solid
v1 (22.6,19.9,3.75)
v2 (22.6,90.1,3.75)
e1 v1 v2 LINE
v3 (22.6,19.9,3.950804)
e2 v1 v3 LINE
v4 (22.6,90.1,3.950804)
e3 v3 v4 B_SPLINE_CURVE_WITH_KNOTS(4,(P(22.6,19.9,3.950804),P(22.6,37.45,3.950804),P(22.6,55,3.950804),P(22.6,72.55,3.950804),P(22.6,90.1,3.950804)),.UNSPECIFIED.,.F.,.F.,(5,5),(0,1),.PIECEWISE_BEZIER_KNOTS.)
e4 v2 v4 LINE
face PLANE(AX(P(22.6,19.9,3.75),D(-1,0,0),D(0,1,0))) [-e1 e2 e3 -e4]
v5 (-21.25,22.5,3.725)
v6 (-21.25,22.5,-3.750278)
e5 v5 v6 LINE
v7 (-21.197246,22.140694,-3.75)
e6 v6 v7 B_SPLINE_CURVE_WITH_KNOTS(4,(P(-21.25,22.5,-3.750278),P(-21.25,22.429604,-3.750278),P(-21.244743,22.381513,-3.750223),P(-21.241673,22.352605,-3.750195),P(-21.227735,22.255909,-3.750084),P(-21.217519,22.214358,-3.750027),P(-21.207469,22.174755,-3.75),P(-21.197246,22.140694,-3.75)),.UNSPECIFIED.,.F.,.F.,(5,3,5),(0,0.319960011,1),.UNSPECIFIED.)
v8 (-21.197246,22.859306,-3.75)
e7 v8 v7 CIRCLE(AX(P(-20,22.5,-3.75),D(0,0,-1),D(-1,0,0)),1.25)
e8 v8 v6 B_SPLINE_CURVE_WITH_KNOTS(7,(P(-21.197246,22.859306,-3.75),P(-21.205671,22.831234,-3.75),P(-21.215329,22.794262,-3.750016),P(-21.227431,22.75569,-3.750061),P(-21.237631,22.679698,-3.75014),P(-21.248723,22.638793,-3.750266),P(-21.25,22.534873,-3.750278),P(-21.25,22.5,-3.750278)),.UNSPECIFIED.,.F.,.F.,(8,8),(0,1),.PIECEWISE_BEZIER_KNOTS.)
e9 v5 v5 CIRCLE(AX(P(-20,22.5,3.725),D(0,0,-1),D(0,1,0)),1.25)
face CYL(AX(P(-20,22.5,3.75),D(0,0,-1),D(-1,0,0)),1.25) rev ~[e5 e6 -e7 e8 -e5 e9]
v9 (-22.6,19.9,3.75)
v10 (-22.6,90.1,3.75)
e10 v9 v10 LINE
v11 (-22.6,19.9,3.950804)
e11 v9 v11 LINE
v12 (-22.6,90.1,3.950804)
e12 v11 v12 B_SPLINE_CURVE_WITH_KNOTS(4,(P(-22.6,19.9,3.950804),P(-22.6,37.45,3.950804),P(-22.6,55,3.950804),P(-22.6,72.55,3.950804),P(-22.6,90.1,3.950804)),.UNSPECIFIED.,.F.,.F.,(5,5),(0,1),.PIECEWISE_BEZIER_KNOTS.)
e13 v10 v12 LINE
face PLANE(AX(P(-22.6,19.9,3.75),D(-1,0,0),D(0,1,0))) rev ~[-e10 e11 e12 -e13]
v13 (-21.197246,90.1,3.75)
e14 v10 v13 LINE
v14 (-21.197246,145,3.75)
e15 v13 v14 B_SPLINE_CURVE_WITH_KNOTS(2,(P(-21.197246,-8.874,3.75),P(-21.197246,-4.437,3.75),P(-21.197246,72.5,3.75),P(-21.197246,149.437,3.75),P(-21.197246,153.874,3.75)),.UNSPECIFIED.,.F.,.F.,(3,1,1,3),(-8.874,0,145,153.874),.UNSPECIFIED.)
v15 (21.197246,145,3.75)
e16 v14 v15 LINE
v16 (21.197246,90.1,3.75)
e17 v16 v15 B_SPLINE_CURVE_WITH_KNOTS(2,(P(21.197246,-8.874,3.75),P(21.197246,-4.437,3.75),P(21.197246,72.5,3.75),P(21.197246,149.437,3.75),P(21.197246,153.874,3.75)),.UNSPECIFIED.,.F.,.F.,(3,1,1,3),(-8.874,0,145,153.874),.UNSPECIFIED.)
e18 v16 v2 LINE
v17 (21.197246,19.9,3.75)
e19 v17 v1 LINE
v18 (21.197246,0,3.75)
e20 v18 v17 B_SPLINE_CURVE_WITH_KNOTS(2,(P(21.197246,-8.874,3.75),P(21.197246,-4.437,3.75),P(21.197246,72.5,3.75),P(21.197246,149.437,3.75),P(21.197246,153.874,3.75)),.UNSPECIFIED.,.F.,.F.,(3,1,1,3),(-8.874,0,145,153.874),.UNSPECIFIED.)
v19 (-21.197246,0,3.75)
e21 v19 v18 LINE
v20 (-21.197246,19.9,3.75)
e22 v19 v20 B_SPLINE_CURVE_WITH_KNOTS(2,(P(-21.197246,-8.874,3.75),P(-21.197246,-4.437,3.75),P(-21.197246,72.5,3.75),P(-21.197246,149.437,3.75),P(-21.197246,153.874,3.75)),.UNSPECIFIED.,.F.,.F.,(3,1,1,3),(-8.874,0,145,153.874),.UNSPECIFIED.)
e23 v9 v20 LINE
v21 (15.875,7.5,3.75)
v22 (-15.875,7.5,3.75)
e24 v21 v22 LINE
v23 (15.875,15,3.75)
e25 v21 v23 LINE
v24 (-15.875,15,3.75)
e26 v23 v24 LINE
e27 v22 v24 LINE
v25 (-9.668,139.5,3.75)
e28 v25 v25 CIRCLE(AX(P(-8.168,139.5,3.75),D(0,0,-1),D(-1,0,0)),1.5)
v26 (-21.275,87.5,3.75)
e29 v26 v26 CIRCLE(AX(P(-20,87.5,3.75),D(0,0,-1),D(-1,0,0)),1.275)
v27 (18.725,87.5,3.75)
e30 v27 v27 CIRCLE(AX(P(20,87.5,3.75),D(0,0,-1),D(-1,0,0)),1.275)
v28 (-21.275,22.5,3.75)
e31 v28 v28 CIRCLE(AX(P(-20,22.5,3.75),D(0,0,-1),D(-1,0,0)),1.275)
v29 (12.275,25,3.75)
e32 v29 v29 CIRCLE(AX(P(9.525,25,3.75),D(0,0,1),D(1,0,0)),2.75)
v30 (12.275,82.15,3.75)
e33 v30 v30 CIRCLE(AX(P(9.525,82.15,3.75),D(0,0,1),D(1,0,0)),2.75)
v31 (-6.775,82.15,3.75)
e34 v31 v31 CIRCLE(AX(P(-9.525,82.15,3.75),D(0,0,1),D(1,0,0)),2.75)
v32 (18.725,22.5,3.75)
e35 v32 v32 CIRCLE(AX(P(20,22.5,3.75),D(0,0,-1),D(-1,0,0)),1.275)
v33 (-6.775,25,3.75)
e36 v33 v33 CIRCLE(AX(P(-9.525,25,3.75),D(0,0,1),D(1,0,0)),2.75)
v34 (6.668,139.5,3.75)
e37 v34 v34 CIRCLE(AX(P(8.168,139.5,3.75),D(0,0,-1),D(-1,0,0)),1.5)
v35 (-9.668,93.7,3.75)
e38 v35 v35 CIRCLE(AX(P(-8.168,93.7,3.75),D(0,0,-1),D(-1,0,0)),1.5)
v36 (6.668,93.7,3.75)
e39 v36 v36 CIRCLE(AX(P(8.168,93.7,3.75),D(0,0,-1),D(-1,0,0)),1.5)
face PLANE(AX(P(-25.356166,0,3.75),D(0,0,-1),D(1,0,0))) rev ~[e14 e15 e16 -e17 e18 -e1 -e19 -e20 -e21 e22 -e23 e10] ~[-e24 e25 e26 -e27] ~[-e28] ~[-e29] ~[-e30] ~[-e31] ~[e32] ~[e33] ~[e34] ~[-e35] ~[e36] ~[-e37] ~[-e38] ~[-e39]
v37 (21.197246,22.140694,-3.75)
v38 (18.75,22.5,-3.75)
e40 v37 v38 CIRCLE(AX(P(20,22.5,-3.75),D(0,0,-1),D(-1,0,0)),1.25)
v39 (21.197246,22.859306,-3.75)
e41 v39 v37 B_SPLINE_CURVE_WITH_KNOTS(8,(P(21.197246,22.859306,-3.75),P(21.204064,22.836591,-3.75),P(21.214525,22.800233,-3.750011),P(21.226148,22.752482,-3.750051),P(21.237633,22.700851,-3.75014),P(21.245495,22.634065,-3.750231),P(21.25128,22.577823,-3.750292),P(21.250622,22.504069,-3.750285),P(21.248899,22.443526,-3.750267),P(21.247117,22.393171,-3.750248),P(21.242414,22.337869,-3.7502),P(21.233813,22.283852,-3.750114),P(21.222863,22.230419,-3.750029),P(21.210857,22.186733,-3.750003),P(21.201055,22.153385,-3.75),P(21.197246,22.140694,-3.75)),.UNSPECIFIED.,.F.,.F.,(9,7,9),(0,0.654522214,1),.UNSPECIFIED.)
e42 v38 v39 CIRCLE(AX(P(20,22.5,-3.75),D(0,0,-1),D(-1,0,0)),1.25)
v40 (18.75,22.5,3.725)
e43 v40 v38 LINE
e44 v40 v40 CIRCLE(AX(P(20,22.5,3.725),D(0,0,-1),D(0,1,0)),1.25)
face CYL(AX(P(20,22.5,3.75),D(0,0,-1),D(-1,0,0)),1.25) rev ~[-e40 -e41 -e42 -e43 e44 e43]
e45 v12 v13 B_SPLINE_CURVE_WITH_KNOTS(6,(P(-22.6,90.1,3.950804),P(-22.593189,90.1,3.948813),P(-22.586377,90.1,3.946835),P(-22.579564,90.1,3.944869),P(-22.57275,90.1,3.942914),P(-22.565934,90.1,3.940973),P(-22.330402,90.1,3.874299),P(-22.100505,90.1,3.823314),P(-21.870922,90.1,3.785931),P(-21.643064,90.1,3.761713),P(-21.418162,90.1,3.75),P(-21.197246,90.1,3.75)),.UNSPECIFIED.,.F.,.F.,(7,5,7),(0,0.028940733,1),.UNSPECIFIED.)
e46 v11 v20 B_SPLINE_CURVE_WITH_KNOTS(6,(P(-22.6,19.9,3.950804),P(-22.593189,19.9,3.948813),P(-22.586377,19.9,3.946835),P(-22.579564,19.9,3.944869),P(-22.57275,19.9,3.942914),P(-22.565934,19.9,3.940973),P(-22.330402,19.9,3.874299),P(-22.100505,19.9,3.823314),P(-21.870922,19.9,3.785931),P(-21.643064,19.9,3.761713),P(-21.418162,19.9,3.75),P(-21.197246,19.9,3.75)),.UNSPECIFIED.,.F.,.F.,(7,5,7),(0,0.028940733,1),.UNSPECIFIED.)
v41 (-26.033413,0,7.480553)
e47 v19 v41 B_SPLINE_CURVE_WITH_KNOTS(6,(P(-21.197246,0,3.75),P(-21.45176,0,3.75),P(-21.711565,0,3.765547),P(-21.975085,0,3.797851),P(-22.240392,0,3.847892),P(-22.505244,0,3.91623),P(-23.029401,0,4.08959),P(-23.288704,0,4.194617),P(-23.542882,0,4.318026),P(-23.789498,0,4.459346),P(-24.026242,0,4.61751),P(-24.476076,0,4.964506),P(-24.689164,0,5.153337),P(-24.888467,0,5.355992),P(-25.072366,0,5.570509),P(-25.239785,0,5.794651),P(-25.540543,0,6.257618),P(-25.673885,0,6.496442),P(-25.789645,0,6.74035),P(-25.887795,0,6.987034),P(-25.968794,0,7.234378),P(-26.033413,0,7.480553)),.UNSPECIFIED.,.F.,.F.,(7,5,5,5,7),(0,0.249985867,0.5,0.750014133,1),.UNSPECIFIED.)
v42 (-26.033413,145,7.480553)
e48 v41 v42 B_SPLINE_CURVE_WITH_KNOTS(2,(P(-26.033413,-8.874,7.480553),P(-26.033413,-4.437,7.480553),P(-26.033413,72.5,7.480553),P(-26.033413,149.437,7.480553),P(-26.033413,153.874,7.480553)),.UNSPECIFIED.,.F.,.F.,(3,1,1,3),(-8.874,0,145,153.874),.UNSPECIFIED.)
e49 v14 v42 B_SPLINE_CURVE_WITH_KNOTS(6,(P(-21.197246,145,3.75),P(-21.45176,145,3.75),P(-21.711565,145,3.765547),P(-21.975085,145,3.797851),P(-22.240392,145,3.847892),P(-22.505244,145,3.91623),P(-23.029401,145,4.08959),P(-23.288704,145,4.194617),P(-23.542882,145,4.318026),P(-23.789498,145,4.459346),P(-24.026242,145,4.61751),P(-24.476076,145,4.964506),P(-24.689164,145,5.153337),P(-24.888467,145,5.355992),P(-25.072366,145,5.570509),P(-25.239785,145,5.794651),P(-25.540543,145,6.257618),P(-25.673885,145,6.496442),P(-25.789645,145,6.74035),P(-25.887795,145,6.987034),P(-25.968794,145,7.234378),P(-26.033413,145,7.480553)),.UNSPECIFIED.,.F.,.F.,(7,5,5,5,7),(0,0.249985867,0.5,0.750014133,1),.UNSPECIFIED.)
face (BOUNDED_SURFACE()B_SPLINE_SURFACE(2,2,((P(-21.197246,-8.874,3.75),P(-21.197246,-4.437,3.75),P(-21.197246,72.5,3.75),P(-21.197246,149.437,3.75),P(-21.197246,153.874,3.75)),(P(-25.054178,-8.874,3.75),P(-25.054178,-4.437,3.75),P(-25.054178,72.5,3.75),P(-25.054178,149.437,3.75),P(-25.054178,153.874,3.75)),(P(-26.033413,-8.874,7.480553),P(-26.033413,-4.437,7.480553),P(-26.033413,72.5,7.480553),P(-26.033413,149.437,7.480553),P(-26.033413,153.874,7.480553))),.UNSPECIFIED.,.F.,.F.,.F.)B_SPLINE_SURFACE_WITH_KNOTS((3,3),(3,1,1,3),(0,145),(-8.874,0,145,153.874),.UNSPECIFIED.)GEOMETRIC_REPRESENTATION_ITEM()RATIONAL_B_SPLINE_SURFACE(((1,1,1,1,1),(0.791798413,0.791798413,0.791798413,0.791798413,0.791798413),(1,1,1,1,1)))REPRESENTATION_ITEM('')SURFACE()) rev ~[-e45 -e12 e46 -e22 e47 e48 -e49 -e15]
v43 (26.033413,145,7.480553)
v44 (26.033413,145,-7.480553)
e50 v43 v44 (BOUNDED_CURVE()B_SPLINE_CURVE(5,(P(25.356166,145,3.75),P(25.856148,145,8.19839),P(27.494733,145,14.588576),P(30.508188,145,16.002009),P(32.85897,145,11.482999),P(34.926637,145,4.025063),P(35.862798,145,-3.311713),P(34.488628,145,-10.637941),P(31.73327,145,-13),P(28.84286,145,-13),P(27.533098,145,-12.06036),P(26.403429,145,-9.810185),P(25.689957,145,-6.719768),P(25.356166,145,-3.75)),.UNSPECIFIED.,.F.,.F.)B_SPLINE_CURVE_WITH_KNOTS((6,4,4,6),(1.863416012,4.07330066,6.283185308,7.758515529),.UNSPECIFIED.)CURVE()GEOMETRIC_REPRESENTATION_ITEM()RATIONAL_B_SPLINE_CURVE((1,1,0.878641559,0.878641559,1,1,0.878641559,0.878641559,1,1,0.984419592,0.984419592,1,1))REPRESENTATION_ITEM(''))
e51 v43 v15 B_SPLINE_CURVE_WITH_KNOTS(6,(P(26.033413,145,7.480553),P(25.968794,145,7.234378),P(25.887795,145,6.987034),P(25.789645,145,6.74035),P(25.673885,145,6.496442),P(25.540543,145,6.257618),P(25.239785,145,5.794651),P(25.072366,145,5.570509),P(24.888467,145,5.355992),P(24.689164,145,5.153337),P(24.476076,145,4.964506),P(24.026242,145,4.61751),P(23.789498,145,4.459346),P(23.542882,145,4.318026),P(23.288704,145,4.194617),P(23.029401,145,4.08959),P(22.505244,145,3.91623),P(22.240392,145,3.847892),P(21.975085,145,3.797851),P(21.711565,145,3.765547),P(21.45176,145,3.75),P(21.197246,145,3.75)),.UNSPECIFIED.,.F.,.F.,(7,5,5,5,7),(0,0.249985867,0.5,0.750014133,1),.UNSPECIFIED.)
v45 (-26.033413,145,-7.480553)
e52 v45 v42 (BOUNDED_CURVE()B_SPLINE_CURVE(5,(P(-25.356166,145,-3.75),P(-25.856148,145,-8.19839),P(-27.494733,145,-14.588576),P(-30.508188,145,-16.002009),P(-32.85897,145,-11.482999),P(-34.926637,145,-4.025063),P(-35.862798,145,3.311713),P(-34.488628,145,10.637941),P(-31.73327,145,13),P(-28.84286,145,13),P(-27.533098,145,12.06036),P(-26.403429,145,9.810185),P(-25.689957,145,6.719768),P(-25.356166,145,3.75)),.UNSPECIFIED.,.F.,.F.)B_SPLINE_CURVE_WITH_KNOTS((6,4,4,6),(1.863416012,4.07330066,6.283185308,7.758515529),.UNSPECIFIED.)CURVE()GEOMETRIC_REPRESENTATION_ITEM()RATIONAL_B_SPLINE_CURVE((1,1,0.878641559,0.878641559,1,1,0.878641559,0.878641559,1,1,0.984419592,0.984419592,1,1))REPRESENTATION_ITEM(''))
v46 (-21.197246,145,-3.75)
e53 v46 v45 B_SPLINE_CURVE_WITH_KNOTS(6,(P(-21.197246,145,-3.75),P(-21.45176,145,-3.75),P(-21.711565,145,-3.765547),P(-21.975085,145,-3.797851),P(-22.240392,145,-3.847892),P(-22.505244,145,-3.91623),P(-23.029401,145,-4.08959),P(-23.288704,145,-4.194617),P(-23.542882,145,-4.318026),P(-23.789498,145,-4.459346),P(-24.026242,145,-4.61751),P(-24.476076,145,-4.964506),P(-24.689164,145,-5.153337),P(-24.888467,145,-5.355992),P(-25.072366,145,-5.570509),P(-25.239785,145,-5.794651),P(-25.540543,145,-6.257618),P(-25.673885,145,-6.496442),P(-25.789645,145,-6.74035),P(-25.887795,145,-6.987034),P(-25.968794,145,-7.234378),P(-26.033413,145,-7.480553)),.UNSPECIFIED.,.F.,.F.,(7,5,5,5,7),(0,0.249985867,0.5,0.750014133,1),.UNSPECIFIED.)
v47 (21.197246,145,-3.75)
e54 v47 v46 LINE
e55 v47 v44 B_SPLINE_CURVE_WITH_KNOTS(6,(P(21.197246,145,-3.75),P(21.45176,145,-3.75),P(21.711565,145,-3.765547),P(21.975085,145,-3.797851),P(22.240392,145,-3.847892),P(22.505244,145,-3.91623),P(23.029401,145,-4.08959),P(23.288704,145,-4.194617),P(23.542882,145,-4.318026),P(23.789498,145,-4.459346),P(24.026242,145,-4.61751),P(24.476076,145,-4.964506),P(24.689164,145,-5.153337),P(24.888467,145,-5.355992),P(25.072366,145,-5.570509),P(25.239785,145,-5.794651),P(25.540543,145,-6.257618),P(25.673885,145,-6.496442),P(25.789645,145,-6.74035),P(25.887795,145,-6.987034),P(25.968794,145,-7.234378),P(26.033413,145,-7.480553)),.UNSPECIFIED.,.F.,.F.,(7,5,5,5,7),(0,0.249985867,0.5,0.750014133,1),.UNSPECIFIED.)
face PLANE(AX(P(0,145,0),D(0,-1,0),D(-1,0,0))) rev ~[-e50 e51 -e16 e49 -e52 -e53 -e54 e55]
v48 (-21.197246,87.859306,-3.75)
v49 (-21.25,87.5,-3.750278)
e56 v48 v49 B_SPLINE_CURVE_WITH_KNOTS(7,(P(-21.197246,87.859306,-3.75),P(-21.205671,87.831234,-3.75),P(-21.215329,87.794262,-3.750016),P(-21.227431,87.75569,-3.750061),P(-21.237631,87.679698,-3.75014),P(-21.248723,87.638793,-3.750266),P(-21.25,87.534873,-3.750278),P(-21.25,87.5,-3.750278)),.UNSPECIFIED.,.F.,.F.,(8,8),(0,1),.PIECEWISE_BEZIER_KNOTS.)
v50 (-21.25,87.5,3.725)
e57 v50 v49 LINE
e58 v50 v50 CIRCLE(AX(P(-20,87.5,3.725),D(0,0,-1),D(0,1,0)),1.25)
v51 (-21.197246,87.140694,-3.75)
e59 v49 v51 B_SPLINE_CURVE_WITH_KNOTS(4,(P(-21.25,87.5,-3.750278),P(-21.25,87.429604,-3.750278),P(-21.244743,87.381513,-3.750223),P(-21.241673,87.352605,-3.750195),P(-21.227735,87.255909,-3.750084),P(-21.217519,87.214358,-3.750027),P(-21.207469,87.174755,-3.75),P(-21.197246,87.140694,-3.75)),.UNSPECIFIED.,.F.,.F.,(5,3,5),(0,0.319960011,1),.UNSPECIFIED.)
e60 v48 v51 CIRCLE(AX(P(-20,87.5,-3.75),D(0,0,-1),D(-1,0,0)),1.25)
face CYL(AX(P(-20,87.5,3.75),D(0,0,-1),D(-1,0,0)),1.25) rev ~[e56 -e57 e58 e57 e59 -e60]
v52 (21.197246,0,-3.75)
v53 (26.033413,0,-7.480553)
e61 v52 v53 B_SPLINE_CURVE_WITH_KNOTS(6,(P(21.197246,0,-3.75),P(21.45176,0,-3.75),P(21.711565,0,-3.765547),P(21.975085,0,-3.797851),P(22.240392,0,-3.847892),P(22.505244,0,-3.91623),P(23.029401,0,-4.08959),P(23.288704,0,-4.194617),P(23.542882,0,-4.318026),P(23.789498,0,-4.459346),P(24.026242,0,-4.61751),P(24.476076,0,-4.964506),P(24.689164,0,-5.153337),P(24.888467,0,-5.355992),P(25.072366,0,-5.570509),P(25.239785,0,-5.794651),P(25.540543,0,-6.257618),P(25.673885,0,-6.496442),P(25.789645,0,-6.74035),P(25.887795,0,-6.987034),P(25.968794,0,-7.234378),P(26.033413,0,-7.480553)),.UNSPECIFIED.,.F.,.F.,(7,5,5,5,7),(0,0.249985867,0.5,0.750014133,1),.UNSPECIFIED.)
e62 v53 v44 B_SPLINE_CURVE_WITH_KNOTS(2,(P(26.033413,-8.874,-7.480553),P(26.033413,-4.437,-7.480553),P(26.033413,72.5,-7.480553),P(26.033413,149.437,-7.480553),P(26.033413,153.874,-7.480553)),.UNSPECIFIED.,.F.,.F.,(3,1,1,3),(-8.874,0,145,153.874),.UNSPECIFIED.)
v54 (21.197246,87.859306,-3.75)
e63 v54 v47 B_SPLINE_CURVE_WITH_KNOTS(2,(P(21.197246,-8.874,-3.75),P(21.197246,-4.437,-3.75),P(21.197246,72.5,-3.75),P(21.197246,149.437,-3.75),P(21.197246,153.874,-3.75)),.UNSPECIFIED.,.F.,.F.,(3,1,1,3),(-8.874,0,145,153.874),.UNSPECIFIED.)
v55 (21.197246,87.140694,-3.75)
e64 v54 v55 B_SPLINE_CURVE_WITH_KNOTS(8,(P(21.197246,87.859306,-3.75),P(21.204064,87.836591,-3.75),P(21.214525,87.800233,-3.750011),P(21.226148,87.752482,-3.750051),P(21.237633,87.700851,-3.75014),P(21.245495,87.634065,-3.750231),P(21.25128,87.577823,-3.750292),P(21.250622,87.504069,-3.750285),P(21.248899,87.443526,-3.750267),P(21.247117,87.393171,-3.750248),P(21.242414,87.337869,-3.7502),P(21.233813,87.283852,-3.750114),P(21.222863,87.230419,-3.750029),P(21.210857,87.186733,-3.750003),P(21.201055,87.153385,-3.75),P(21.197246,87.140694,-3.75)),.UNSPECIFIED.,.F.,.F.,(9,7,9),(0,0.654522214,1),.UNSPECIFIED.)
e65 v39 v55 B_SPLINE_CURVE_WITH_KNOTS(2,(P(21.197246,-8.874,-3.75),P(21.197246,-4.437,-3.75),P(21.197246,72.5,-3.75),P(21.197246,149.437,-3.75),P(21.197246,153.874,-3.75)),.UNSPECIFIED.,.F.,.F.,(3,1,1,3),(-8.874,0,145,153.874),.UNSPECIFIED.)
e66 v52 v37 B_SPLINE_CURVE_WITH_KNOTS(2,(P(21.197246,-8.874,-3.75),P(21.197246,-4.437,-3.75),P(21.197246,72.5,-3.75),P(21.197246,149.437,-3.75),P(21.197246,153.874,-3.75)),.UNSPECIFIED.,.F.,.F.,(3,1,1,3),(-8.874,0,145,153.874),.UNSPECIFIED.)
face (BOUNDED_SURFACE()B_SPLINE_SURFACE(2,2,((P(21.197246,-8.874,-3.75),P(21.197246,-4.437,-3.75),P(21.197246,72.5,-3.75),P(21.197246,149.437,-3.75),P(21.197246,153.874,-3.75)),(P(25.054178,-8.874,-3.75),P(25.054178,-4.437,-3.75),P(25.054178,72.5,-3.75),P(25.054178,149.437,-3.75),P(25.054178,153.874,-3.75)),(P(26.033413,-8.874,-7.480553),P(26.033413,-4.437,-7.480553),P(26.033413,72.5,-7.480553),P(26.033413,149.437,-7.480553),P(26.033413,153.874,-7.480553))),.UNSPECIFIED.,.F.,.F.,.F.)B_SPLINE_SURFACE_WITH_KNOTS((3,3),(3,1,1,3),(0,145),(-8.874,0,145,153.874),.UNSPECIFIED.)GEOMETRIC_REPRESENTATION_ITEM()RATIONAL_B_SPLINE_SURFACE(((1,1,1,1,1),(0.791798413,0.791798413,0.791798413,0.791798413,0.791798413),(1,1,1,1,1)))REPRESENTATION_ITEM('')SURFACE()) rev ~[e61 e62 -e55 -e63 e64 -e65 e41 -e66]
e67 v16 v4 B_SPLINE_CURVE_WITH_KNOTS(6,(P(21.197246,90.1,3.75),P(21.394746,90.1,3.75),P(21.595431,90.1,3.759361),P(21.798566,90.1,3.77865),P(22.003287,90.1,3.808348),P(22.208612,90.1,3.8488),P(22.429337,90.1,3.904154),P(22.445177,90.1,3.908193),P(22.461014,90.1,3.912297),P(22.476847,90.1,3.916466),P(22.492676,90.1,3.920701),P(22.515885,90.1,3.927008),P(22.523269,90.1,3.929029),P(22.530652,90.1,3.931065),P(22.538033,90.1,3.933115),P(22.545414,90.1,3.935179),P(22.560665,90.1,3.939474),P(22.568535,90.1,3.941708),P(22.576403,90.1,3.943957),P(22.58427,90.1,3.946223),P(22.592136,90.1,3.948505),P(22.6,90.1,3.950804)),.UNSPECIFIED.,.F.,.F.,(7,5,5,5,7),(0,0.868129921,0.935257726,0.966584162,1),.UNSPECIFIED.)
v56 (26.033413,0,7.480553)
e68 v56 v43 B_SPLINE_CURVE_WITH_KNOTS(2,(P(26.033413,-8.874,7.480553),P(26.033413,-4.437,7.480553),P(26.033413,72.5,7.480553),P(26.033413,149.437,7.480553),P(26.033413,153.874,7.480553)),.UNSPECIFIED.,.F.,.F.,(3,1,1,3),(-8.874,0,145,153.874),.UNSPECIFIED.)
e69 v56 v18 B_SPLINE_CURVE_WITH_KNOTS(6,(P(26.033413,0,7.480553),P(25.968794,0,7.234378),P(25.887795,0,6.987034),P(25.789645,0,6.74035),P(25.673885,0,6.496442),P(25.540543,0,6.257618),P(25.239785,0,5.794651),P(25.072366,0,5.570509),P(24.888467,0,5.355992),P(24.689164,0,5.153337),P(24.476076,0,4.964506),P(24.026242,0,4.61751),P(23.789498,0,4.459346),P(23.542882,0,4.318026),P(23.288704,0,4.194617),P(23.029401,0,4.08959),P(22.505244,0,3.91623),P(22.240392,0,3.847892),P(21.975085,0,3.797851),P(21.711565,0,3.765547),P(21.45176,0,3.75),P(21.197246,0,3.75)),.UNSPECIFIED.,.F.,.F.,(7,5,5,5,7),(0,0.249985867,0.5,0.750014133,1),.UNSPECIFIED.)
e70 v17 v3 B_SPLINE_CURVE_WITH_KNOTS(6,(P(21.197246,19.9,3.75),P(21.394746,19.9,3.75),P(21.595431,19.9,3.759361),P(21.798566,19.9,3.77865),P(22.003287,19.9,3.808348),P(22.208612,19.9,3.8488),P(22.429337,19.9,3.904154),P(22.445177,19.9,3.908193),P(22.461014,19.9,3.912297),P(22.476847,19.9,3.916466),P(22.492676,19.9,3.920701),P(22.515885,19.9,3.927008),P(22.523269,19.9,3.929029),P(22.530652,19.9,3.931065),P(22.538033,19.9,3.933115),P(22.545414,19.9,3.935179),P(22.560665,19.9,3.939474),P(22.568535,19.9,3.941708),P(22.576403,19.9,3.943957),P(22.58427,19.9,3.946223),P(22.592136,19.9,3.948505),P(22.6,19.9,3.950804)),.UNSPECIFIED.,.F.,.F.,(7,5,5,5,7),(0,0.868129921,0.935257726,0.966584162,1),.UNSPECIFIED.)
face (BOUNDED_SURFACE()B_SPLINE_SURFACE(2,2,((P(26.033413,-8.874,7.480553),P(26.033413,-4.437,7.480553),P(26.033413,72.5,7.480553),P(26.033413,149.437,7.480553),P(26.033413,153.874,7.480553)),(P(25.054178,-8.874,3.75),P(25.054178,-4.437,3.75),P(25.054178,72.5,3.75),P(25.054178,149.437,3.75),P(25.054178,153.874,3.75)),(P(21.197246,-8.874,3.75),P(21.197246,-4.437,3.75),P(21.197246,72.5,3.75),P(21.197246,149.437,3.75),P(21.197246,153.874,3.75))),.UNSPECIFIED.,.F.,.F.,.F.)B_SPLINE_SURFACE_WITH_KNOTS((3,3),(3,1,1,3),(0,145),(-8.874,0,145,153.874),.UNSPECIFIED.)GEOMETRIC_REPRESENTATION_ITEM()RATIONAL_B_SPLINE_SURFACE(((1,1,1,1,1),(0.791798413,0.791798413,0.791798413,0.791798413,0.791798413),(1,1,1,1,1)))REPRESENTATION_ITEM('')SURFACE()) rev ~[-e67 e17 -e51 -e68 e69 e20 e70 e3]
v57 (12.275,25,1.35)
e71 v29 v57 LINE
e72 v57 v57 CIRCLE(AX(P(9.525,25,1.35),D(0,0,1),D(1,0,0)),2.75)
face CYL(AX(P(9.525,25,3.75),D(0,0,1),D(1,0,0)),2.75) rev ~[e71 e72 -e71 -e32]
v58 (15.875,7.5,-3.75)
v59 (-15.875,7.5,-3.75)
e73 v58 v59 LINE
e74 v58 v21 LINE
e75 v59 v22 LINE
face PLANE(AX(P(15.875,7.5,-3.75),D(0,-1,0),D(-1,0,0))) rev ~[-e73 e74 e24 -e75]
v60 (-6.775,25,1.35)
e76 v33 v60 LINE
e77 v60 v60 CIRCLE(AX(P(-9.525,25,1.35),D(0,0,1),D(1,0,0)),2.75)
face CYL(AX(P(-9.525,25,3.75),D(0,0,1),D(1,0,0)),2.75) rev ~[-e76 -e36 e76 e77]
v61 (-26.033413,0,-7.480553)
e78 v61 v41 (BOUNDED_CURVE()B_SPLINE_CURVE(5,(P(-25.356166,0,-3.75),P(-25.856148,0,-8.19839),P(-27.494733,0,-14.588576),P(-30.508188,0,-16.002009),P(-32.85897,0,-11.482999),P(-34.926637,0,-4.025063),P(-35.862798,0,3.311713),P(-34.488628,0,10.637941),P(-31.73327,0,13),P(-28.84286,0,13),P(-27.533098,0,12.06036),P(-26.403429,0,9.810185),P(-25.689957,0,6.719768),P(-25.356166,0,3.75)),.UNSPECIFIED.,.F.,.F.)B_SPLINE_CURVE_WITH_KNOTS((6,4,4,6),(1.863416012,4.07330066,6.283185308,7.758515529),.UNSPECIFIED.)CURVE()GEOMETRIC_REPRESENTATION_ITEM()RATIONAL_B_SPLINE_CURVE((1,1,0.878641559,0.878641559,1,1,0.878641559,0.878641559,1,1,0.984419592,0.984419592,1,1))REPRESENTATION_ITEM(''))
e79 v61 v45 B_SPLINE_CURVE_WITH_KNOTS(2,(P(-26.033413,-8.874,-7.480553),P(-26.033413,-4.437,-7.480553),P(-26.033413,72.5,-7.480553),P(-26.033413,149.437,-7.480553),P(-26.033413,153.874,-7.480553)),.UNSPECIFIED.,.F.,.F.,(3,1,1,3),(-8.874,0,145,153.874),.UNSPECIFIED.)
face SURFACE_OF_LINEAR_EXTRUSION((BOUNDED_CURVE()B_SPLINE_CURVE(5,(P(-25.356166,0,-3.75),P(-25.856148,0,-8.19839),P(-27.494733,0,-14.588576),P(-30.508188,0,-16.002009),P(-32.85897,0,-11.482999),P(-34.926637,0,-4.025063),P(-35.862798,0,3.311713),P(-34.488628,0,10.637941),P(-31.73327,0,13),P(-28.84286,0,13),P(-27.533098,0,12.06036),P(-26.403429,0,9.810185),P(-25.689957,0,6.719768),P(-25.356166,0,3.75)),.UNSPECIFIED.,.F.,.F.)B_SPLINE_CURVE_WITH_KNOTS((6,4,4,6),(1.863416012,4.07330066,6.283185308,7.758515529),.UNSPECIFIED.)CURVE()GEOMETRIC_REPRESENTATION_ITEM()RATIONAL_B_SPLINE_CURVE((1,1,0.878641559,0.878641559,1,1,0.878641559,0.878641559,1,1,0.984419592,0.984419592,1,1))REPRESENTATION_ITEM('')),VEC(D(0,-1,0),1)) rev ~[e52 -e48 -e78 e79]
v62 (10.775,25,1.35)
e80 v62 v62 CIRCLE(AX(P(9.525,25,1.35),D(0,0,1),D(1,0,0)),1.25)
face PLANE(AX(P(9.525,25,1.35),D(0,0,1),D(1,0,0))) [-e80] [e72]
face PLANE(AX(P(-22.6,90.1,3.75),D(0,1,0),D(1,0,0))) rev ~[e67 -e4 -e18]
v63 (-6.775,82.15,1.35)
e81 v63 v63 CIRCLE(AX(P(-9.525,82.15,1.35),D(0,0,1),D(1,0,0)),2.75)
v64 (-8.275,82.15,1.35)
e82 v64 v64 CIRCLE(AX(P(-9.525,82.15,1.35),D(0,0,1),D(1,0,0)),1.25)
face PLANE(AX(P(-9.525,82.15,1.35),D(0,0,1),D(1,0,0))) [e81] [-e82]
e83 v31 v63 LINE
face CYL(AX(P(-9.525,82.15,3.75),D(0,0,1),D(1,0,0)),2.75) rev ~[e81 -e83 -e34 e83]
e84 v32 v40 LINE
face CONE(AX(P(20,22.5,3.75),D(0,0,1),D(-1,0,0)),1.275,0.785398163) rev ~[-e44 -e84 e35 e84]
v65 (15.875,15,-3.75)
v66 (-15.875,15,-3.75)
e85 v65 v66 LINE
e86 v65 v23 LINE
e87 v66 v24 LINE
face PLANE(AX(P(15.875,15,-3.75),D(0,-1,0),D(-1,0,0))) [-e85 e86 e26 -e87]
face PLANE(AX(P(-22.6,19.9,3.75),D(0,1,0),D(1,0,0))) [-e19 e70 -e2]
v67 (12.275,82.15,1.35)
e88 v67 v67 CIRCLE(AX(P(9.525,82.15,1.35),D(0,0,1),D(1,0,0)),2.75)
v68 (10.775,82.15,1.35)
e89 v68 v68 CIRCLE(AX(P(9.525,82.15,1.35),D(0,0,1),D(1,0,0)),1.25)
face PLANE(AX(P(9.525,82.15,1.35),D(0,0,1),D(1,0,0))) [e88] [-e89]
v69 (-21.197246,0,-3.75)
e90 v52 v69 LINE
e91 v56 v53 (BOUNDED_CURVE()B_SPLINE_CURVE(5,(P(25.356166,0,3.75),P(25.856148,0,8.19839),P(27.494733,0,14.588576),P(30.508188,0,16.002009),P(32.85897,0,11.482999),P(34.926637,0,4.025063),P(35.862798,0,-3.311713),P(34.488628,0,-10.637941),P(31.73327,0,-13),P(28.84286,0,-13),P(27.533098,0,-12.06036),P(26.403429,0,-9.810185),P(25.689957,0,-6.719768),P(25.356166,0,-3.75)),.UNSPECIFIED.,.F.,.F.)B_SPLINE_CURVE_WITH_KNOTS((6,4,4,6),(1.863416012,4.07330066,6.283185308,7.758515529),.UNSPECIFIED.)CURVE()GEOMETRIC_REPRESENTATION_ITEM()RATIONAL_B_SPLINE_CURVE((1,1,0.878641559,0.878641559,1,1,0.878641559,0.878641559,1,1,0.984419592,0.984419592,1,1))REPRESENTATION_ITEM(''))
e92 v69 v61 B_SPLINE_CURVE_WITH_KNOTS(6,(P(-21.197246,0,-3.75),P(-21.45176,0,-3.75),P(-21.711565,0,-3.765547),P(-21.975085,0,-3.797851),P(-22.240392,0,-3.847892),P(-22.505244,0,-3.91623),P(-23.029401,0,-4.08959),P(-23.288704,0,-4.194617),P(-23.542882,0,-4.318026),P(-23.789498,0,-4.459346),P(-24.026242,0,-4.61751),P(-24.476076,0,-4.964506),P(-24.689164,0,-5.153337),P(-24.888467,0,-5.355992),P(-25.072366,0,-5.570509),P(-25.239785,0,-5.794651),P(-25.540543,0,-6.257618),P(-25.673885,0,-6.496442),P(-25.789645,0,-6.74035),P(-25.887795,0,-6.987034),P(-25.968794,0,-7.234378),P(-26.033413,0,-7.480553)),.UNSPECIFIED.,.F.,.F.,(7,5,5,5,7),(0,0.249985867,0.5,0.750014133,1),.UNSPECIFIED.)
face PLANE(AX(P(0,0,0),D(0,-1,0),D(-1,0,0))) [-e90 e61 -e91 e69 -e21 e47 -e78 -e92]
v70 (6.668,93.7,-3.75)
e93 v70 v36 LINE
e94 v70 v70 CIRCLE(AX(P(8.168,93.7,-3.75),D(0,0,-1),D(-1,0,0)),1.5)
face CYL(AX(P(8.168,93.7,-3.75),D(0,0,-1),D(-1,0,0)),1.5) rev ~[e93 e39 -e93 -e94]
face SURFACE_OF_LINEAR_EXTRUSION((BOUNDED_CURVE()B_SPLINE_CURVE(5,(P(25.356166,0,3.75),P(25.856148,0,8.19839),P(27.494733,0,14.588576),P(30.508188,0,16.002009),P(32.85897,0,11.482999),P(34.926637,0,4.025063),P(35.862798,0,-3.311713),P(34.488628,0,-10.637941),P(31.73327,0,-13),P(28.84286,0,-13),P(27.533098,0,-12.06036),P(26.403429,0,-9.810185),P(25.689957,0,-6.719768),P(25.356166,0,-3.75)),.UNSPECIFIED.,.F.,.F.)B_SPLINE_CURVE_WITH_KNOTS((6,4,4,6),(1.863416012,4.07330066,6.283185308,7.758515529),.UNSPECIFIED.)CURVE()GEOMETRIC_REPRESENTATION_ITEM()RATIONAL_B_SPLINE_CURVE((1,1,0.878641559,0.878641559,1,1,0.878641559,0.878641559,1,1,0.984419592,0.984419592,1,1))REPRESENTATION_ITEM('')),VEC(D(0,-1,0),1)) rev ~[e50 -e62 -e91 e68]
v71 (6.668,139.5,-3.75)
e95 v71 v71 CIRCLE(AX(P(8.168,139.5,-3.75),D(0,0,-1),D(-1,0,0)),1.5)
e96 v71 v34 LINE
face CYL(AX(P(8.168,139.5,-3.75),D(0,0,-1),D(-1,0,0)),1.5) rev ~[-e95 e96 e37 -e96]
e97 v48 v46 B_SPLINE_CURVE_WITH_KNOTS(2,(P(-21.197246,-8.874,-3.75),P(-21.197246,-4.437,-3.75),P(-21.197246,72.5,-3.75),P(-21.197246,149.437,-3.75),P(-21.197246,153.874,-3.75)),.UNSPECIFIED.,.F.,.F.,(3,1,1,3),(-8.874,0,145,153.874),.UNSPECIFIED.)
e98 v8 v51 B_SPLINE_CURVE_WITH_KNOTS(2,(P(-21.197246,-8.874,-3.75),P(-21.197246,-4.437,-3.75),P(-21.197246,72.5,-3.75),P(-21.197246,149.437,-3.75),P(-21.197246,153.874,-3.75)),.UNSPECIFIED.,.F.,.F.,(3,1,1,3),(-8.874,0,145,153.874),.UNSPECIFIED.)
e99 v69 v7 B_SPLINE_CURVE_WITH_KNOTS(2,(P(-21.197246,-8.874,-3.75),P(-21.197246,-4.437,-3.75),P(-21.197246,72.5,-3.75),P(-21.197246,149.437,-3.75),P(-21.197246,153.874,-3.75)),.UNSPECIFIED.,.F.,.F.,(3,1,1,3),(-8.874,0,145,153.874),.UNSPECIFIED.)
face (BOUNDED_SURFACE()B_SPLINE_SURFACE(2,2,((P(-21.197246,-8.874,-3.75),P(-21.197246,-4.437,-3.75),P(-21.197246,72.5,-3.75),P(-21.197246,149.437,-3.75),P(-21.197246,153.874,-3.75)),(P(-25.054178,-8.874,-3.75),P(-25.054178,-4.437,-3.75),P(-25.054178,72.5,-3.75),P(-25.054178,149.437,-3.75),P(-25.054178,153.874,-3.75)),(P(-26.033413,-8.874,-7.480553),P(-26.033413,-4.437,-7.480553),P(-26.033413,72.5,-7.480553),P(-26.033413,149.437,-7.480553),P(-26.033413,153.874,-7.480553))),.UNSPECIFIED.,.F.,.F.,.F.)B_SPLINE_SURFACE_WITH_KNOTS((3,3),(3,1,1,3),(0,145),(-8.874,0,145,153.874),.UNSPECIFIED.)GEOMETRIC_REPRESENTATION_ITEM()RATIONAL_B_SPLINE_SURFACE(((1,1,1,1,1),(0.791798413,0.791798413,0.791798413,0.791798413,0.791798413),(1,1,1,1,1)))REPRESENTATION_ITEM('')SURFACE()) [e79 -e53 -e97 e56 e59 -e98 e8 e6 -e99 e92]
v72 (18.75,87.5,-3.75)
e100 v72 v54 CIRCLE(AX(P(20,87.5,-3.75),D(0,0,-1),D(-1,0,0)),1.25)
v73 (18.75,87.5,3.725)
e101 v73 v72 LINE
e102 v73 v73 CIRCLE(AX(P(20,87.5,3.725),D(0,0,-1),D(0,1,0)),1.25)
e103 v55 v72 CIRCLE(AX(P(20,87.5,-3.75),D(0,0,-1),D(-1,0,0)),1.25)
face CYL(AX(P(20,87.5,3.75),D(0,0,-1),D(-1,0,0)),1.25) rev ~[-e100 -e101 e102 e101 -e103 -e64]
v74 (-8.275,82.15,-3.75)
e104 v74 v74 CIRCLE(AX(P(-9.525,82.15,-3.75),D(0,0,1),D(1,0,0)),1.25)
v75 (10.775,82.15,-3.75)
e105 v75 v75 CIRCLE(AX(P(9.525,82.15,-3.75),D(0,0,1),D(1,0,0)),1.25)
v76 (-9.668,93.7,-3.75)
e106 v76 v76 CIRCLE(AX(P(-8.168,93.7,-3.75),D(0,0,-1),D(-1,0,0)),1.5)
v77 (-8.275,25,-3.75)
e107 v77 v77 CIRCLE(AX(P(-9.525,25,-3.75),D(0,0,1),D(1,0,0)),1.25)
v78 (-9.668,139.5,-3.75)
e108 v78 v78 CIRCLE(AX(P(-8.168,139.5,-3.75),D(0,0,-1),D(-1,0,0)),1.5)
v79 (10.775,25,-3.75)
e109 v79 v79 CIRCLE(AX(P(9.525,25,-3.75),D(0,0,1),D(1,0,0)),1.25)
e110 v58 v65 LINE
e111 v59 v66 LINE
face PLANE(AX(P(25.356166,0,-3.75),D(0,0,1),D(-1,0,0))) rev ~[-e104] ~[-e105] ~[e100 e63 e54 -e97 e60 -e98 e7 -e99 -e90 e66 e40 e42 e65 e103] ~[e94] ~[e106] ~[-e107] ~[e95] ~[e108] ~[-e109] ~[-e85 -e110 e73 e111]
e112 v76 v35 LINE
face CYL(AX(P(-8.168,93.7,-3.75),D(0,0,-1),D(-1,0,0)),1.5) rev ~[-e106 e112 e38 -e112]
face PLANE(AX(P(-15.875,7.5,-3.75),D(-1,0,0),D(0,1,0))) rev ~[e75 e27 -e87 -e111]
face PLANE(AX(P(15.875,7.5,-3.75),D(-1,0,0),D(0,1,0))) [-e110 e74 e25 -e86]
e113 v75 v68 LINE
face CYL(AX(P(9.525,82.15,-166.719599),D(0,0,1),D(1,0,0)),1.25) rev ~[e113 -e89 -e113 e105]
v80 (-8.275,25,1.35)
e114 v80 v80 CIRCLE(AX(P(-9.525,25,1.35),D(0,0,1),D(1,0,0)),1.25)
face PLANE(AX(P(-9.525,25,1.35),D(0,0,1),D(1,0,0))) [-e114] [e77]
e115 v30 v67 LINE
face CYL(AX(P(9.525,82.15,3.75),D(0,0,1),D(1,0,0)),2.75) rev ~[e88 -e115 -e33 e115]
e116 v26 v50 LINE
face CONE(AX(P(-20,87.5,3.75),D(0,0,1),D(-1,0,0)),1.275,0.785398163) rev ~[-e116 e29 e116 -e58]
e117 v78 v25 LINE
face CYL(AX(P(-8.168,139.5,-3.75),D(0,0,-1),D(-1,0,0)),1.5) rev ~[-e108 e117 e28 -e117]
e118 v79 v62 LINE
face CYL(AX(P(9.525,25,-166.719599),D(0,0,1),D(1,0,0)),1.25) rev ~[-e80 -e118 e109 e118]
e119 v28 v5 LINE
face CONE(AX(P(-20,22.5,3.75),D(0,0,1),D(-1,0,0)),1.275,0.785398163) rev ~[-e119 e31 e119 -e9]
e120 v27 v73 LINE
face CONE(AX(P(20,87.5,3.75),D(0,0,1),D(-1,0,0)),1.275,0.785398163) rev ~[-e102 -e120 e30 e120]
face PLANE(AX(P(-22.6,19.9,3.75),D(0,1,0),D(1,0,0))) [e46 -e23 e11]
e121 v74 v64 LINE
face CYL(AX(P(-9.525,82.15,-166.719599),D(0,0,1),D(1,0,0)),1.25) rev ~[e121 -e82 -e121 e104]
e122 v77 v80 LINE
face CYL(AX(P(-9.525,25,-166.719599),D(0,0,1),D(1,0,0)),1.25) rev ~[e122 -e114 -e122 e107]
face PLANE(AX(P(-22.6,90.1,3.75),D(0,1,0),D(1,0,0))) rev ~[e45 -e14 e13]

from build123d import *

# Parameters (mm, degrees)
BOSS_EXTRUDE1_DEPTH               = 145
FILLET1_R                         = 5
SKETCH3_W                         = 31.75
SKETCH3_H                         = 7.5
CUT_EXTRUDE2_DEPTH                = 10.2500001
CUT_EXTRUDE2_DEPTH_BACK           = 17.7500001
TAP_DRILL_FOR_M3X0_5_TAP1_D       = 2.5
SKETCH5_W                         = 45.2
SKETCH5_H                         = 70.2
SKETCH5_W_2                       = 35
SKETCH5_H_2                       = 60
CUT_EXTRUDE3_DEPTH                = 10
SKETCH6_R                         = 2.75
CUT_EXTRUDE4_DEPTH                = 2.4
TAP_DRILL_FOR_M3_TAP1_D           = 2.5
TAP_DRILL_FOR_M3_TAP1_CSINK_D     = 2.55
TAP_DRILL_FOR_M3_TAP1_CSINK_ANGLE = 90
SKETCH9_R                         = 1.5
CUT_EXTRUDE5_DEPTH                = 17.7500001


with BuildPart() as part:
    # Sketch1 → Boss-Extrude1 (new body)
    with BuildSketch(Plane(origin=(0, 0, 0), x_dir=(1, 0, 0), z_dir=(0, 1, 0))):
        with BuildLine():
            add(Edge.make_bspline(
                [(25.356166305, 3.75), (24.934680795, 0), (25.356166305, -3.75)],
                knots=[1.278176641, 1.278176641, 1.278176641, 1.863416012, 1.863416012, 1.863416012], degree=2, weights=[1, 0.957491483, 1]))
            Line((25.356166305, 3.75), (-25.356166305, 3.75))
            add(Edge.make_bspline(
                [(-25.356166305, -3.75), (-24.934680795, 0), (-25.356166305, 3.75)],
                knots=[1.278176641, 1.278176641, 1.278176641, 1.863416012, 1.863416012, 1.863416012], degree=2, weights=[1, 0.957491483, 1]))
            Line((-25.356166305, -3.75), (25.356166305, -3.75))
        make_face()
        with BuildLine():
            add(Edge.make_bspline(
                [(-25.356166305, -3.75), (-24.934680795, 0), (-25.356166305, 3.75)],
                knots=[1.278176641, 1.278176641, 1.278176641, 1.863416012, 1.863416012, 1.863416012], degree=2, weights=[1, 0.957491483, 1]))
            Line((-25.356166305, 3.75), (-30, 3.75))
            Line((-30, 3.75), (-30, -3.75))
            Line((-30, -3.75), (-25.356166305, -3.75))
        make_face()
        with BuildLine():
            Line((-30, 3.75), (-25.356166305, 3.75))
            add(Edge.make_bspline(
                [(-25.356166305, 3.75), (-28.138876861, 28.508062419), (-33.892803395, 7.75403121), (-39.646729928, -13), (-30, -13)],
                knots=[1.863416012, 1.863416012, 1.863416012, 4.07330066, 4.07330066, 6.283185307, 6.283185307, 6.283185307], degree=2, weights=[1, 0.449185964, 1, 0.449185964, 1]))
            add(Edge.make_bspline(
                [(-30, -13), (-26.395830565, -13), (-25.356166305, -3.75)],
                knots=[0, 0, 0, 1.278176641, 1.278176641, 1.278176641], degree=2, weights=[1, 0.802639875, 1]))
            Line((-25.356166305, -3.75), (-30, -3.75))
            Line((-30, -3.75), (-30, 3.75))
        make_face()
        with BuildLine():
            add(Edge.make_bspline(
                [(-25.356166305, -3.75), (-24.934680795, 0), (-25.356166305, 3.75)],
                knots=[1.278176641, 1.278176641, 1.278176641, 1.863416012, 1.863416012, 1.863416012], degree=2, weights=[1, 0.957491483, 1]))
            Line((-25.356166305, 3.75), (-30, 3.75))
            Line((-30, 3.75), (-30, -3.75))
            Line((-30, -3.75), (-25.356166305, -3.75))
        make_face()
        with BuildLine():
            Line((-30, 3.75), (-25.356166305, 3.75))
            add(Edge.make_bspline(
                [(-25.356166305, 3.75), (-28.138876861, 28.508062419), (-33.892803395, 7.75403121), (-39.646729928, -13), (-30, -13)],
                knots=[1.863416012, 1.863416012, 1.863416012, 4.07330066, 4.07330066, 6.283185307, 6.283185307, 6.283185307], degree=2, weights=[1, 0.449185964, 1, 0.449185964, 1]))
            add(Edge.make_bspline(
                [(-30, -13), (-26.395830565, -13), (-25.356166305, -3.75)],
                knots=[0, 0, 0, 1.278176641, 1.278176641, 1.278176641], degree=2, weights=[1, 0.802639875, 1]))
            Line((-25.356166305, -3.75), (-30, -3.75))
            Line((-30, -3.75), (-30, 3.75))
        make_face()
        with BuildLine():
            Line((30, -3.75), (30, 3.75))
            Line((30, 3.75), (25.356166305, 3.75))
            add(Edge.make_bspline(
                [(25.356166305, 3.75), (24.934680795, 0), (25.356166305, -3.75)],
                knots=[1.278176641, 1.278176641, 1.278176641, 1.863416012, 1.863416012, 1.863416012], degree=2, weights=[1, 0.957491483, 1]))
            Line((25.356166305, -3.75), (30, -3.75))
        make_face()
        with BuildLine():
            Line((25.356166305, 3.75), (30, 3.75))
            Line((30, 3.75), (30, -3.75))
            Line((30, -3.75), (25.356166305, -3.75))
            add(Edge.make_bspline(
                [(25.356166305, -3.75), (28.138876861, -28.508062419), (33.892803395, -7.75403121), (39.646729928, 13), (30, 13)],
                knots=[1.863416012, 1.863416012, 1.863416012, 4.07330066, 4.07330066, 6.283185307, 6.283185307, 6.283185307], degree=2, weights=[1, 0.449185964, 1, 0.449185964, 1]))
            add(Edge.make_bspline(
                [(30, 13), (26.395830565, 13), (25.356166305, 3.75)],
                knots=[0, 0, 0, 1.278176641, 1.278176641, 1.278176641], degree=2, weights=[1, 0.802639875, 1]))
        make_face()
        with BuildLine():
            Line((30, -3.75), (30, 3.75))
            Line((30, 3.75), (25.356166305, 3.75))
            add(Edge.make_bspline(
                [(25.356166305, 3.75), (24.934680795, 0), (25.356166305, -3.75)],
                knots=[1.278176641, 1.278176641, 1.278176641, 1.863416012, 1.863416012, 1.863416012], degree=2, weights=[1, 0.957491483, 1]))
            Line((25.356166305, -3.75), (30, -3.75))
        make_face()
        with BuildLine():
            Line((25.356166305, 3.75), (30, 3.75))
            Line((30, 3.75), (30, -3.75))
            Line((30, -3.75), (25.356166305, -3.75))
            add(Edge.make_bspline(
                [(25.356166305, -3.75), (28.138876861, -28.508062419), (33.892803395, -7.75403121), (39.646729928, 13), (30, 13)],
                knots=[1.863416012, 1.863416012, 1.863416012, 4.07330066, 4.07330066, 6.283185307, 6.283185307, 6.283185307], degree=2, weights=[1, 0.449185964, 1, 0.449185964, 1]))
            add(Edge.make_bspline(
                [(30, 13), (26.395830565, 13), (25.356166305, 3.75)],
                knots=[0, 0, 0, 1.278176641, 1.278176641, 1.278176641], degree=2, weights=[1, 0.802639875, 1]))
        make_face()
    extrude(amount=BOSS_EXTRUDE1_DEPTH)

    # Fillet1
    fillet1_edges = [part.edges().sort_by_distance(p)[0] for p in [
        (-25.356166305, 72.5, -3.75),
        (25.356166305, 72.5, -3.75),
        (25.356166305, 72.5, 3.75),
        (-25.356166305, 72.5, 3.75),
    ]]
    fillet(fillet1_edges, radius=FILLET1_R)

    # Sketch3 → Cut-Extrude2 (cut, two sides)
    with BuildSketch(Plane(origin=(0, 0, -3.75), x_dir=(-1, 0, 0), z_dir=(0, 0, -1))) as cut_extrude2_sk:
        with Locations((0, 11.25)):
            Rectangle(SKETCH3_W, SKETCH3_H)
    extrude(amount=CUT_EXTRUDE2_DEPTH, mode=Mode.SUBTRACT)
    extrude(cut_extrude2_sk.sketch, amount=-CUT_EXTRUDE2_DEPTH_BACK, mode=Mode.SUBTRACT)

    # Tap Drill for M3x0.5 Tap1 (through all)
    with Locations(Plane(origin=(9.525, 82.15, -3.75), x_dir=(-1, 0, 0), z_dir=(0, 0, -1))):
        with Locations((0, 0), (19.05, 0), (19.05, -57.15), (0, -57.15)):
            Hole(TAP_DRILL_FOR_M3X0_5_TAP1_D / 2)

    # Sketch5 → Cut-Extrude3 (cut)
    with BuildSketch(Plane.XY.offset(3.75)):
        with Locations((0, 55)):
            Rectangle(SKETCH5_W, SKETCH5_H)
        with Locations((0, 55)):
            Rectangle(SKETCH5_W_2, SKETCH5_H_2, mode=Mode.SUBTRACT)
    extrude(amount=CUT_EXTRUDE3_DEPTH, mode=Mode.SUBTRACT)

    # Sketch6 → Cut-Extrude4 (cut)
    with BuildSketch(Plane.XY.offset(3.75)):
        with Locations((9.525, 82.15)):
            Circle(SKETCH6_R)
        with Locations((-9.525, 82.15)):
            Circle(SKETCH6_R)
        with Locations((9.525, 25)):
            Circle(SKETCH6_R)
        with Locations((-9.525, 25)):
            Circle(SKETCH6_R)
    extrude(amount=-CUT_EXTRUDE4_DEPTH, mode=Mode.SUBTRACT)

    # Tap Drill for M3 Tap1 (through all)
    with Locations(Plane.XY.offset(3.75)):
        with Locations((-20, 87.5), (20, 87.5), (20, 22.5), (-20, 22.5)):
            CounterSinkHole(TAP_DRILL_FOR_M3_TAP1_D / 2, TAP_DRILL_FOR_M3_TAP1_CSINK_D / 2, counter_sink_angle=TAP_DRILL_FOR_M3_TAP1_CSINK_ANGLE)

    # Sketch9 → Cut-Extrude5 (cut, through all)
    with BuildSketch(Plane(origin=(0, 0, -3.75), x_dir=(-1, 0, 0), z_dir=(0, 0, -1))):
        with Locations((-8.168, 139.5)):
            Circle(SKETCH9_R)
        with Locations((8.168, 139.5)):
            Circle(SKETCH9_R)
        with Locations((8.168, 93.7)):
            Circle(SKETCH9_R)
        with Locations((-8.168, 93.7)):
            Circle(SKETCH9_R)
    extrude(amount=-CUT_EXTRUDE5_DEPTH, mode=Mode.SUBTRACT)


solid = part.part
